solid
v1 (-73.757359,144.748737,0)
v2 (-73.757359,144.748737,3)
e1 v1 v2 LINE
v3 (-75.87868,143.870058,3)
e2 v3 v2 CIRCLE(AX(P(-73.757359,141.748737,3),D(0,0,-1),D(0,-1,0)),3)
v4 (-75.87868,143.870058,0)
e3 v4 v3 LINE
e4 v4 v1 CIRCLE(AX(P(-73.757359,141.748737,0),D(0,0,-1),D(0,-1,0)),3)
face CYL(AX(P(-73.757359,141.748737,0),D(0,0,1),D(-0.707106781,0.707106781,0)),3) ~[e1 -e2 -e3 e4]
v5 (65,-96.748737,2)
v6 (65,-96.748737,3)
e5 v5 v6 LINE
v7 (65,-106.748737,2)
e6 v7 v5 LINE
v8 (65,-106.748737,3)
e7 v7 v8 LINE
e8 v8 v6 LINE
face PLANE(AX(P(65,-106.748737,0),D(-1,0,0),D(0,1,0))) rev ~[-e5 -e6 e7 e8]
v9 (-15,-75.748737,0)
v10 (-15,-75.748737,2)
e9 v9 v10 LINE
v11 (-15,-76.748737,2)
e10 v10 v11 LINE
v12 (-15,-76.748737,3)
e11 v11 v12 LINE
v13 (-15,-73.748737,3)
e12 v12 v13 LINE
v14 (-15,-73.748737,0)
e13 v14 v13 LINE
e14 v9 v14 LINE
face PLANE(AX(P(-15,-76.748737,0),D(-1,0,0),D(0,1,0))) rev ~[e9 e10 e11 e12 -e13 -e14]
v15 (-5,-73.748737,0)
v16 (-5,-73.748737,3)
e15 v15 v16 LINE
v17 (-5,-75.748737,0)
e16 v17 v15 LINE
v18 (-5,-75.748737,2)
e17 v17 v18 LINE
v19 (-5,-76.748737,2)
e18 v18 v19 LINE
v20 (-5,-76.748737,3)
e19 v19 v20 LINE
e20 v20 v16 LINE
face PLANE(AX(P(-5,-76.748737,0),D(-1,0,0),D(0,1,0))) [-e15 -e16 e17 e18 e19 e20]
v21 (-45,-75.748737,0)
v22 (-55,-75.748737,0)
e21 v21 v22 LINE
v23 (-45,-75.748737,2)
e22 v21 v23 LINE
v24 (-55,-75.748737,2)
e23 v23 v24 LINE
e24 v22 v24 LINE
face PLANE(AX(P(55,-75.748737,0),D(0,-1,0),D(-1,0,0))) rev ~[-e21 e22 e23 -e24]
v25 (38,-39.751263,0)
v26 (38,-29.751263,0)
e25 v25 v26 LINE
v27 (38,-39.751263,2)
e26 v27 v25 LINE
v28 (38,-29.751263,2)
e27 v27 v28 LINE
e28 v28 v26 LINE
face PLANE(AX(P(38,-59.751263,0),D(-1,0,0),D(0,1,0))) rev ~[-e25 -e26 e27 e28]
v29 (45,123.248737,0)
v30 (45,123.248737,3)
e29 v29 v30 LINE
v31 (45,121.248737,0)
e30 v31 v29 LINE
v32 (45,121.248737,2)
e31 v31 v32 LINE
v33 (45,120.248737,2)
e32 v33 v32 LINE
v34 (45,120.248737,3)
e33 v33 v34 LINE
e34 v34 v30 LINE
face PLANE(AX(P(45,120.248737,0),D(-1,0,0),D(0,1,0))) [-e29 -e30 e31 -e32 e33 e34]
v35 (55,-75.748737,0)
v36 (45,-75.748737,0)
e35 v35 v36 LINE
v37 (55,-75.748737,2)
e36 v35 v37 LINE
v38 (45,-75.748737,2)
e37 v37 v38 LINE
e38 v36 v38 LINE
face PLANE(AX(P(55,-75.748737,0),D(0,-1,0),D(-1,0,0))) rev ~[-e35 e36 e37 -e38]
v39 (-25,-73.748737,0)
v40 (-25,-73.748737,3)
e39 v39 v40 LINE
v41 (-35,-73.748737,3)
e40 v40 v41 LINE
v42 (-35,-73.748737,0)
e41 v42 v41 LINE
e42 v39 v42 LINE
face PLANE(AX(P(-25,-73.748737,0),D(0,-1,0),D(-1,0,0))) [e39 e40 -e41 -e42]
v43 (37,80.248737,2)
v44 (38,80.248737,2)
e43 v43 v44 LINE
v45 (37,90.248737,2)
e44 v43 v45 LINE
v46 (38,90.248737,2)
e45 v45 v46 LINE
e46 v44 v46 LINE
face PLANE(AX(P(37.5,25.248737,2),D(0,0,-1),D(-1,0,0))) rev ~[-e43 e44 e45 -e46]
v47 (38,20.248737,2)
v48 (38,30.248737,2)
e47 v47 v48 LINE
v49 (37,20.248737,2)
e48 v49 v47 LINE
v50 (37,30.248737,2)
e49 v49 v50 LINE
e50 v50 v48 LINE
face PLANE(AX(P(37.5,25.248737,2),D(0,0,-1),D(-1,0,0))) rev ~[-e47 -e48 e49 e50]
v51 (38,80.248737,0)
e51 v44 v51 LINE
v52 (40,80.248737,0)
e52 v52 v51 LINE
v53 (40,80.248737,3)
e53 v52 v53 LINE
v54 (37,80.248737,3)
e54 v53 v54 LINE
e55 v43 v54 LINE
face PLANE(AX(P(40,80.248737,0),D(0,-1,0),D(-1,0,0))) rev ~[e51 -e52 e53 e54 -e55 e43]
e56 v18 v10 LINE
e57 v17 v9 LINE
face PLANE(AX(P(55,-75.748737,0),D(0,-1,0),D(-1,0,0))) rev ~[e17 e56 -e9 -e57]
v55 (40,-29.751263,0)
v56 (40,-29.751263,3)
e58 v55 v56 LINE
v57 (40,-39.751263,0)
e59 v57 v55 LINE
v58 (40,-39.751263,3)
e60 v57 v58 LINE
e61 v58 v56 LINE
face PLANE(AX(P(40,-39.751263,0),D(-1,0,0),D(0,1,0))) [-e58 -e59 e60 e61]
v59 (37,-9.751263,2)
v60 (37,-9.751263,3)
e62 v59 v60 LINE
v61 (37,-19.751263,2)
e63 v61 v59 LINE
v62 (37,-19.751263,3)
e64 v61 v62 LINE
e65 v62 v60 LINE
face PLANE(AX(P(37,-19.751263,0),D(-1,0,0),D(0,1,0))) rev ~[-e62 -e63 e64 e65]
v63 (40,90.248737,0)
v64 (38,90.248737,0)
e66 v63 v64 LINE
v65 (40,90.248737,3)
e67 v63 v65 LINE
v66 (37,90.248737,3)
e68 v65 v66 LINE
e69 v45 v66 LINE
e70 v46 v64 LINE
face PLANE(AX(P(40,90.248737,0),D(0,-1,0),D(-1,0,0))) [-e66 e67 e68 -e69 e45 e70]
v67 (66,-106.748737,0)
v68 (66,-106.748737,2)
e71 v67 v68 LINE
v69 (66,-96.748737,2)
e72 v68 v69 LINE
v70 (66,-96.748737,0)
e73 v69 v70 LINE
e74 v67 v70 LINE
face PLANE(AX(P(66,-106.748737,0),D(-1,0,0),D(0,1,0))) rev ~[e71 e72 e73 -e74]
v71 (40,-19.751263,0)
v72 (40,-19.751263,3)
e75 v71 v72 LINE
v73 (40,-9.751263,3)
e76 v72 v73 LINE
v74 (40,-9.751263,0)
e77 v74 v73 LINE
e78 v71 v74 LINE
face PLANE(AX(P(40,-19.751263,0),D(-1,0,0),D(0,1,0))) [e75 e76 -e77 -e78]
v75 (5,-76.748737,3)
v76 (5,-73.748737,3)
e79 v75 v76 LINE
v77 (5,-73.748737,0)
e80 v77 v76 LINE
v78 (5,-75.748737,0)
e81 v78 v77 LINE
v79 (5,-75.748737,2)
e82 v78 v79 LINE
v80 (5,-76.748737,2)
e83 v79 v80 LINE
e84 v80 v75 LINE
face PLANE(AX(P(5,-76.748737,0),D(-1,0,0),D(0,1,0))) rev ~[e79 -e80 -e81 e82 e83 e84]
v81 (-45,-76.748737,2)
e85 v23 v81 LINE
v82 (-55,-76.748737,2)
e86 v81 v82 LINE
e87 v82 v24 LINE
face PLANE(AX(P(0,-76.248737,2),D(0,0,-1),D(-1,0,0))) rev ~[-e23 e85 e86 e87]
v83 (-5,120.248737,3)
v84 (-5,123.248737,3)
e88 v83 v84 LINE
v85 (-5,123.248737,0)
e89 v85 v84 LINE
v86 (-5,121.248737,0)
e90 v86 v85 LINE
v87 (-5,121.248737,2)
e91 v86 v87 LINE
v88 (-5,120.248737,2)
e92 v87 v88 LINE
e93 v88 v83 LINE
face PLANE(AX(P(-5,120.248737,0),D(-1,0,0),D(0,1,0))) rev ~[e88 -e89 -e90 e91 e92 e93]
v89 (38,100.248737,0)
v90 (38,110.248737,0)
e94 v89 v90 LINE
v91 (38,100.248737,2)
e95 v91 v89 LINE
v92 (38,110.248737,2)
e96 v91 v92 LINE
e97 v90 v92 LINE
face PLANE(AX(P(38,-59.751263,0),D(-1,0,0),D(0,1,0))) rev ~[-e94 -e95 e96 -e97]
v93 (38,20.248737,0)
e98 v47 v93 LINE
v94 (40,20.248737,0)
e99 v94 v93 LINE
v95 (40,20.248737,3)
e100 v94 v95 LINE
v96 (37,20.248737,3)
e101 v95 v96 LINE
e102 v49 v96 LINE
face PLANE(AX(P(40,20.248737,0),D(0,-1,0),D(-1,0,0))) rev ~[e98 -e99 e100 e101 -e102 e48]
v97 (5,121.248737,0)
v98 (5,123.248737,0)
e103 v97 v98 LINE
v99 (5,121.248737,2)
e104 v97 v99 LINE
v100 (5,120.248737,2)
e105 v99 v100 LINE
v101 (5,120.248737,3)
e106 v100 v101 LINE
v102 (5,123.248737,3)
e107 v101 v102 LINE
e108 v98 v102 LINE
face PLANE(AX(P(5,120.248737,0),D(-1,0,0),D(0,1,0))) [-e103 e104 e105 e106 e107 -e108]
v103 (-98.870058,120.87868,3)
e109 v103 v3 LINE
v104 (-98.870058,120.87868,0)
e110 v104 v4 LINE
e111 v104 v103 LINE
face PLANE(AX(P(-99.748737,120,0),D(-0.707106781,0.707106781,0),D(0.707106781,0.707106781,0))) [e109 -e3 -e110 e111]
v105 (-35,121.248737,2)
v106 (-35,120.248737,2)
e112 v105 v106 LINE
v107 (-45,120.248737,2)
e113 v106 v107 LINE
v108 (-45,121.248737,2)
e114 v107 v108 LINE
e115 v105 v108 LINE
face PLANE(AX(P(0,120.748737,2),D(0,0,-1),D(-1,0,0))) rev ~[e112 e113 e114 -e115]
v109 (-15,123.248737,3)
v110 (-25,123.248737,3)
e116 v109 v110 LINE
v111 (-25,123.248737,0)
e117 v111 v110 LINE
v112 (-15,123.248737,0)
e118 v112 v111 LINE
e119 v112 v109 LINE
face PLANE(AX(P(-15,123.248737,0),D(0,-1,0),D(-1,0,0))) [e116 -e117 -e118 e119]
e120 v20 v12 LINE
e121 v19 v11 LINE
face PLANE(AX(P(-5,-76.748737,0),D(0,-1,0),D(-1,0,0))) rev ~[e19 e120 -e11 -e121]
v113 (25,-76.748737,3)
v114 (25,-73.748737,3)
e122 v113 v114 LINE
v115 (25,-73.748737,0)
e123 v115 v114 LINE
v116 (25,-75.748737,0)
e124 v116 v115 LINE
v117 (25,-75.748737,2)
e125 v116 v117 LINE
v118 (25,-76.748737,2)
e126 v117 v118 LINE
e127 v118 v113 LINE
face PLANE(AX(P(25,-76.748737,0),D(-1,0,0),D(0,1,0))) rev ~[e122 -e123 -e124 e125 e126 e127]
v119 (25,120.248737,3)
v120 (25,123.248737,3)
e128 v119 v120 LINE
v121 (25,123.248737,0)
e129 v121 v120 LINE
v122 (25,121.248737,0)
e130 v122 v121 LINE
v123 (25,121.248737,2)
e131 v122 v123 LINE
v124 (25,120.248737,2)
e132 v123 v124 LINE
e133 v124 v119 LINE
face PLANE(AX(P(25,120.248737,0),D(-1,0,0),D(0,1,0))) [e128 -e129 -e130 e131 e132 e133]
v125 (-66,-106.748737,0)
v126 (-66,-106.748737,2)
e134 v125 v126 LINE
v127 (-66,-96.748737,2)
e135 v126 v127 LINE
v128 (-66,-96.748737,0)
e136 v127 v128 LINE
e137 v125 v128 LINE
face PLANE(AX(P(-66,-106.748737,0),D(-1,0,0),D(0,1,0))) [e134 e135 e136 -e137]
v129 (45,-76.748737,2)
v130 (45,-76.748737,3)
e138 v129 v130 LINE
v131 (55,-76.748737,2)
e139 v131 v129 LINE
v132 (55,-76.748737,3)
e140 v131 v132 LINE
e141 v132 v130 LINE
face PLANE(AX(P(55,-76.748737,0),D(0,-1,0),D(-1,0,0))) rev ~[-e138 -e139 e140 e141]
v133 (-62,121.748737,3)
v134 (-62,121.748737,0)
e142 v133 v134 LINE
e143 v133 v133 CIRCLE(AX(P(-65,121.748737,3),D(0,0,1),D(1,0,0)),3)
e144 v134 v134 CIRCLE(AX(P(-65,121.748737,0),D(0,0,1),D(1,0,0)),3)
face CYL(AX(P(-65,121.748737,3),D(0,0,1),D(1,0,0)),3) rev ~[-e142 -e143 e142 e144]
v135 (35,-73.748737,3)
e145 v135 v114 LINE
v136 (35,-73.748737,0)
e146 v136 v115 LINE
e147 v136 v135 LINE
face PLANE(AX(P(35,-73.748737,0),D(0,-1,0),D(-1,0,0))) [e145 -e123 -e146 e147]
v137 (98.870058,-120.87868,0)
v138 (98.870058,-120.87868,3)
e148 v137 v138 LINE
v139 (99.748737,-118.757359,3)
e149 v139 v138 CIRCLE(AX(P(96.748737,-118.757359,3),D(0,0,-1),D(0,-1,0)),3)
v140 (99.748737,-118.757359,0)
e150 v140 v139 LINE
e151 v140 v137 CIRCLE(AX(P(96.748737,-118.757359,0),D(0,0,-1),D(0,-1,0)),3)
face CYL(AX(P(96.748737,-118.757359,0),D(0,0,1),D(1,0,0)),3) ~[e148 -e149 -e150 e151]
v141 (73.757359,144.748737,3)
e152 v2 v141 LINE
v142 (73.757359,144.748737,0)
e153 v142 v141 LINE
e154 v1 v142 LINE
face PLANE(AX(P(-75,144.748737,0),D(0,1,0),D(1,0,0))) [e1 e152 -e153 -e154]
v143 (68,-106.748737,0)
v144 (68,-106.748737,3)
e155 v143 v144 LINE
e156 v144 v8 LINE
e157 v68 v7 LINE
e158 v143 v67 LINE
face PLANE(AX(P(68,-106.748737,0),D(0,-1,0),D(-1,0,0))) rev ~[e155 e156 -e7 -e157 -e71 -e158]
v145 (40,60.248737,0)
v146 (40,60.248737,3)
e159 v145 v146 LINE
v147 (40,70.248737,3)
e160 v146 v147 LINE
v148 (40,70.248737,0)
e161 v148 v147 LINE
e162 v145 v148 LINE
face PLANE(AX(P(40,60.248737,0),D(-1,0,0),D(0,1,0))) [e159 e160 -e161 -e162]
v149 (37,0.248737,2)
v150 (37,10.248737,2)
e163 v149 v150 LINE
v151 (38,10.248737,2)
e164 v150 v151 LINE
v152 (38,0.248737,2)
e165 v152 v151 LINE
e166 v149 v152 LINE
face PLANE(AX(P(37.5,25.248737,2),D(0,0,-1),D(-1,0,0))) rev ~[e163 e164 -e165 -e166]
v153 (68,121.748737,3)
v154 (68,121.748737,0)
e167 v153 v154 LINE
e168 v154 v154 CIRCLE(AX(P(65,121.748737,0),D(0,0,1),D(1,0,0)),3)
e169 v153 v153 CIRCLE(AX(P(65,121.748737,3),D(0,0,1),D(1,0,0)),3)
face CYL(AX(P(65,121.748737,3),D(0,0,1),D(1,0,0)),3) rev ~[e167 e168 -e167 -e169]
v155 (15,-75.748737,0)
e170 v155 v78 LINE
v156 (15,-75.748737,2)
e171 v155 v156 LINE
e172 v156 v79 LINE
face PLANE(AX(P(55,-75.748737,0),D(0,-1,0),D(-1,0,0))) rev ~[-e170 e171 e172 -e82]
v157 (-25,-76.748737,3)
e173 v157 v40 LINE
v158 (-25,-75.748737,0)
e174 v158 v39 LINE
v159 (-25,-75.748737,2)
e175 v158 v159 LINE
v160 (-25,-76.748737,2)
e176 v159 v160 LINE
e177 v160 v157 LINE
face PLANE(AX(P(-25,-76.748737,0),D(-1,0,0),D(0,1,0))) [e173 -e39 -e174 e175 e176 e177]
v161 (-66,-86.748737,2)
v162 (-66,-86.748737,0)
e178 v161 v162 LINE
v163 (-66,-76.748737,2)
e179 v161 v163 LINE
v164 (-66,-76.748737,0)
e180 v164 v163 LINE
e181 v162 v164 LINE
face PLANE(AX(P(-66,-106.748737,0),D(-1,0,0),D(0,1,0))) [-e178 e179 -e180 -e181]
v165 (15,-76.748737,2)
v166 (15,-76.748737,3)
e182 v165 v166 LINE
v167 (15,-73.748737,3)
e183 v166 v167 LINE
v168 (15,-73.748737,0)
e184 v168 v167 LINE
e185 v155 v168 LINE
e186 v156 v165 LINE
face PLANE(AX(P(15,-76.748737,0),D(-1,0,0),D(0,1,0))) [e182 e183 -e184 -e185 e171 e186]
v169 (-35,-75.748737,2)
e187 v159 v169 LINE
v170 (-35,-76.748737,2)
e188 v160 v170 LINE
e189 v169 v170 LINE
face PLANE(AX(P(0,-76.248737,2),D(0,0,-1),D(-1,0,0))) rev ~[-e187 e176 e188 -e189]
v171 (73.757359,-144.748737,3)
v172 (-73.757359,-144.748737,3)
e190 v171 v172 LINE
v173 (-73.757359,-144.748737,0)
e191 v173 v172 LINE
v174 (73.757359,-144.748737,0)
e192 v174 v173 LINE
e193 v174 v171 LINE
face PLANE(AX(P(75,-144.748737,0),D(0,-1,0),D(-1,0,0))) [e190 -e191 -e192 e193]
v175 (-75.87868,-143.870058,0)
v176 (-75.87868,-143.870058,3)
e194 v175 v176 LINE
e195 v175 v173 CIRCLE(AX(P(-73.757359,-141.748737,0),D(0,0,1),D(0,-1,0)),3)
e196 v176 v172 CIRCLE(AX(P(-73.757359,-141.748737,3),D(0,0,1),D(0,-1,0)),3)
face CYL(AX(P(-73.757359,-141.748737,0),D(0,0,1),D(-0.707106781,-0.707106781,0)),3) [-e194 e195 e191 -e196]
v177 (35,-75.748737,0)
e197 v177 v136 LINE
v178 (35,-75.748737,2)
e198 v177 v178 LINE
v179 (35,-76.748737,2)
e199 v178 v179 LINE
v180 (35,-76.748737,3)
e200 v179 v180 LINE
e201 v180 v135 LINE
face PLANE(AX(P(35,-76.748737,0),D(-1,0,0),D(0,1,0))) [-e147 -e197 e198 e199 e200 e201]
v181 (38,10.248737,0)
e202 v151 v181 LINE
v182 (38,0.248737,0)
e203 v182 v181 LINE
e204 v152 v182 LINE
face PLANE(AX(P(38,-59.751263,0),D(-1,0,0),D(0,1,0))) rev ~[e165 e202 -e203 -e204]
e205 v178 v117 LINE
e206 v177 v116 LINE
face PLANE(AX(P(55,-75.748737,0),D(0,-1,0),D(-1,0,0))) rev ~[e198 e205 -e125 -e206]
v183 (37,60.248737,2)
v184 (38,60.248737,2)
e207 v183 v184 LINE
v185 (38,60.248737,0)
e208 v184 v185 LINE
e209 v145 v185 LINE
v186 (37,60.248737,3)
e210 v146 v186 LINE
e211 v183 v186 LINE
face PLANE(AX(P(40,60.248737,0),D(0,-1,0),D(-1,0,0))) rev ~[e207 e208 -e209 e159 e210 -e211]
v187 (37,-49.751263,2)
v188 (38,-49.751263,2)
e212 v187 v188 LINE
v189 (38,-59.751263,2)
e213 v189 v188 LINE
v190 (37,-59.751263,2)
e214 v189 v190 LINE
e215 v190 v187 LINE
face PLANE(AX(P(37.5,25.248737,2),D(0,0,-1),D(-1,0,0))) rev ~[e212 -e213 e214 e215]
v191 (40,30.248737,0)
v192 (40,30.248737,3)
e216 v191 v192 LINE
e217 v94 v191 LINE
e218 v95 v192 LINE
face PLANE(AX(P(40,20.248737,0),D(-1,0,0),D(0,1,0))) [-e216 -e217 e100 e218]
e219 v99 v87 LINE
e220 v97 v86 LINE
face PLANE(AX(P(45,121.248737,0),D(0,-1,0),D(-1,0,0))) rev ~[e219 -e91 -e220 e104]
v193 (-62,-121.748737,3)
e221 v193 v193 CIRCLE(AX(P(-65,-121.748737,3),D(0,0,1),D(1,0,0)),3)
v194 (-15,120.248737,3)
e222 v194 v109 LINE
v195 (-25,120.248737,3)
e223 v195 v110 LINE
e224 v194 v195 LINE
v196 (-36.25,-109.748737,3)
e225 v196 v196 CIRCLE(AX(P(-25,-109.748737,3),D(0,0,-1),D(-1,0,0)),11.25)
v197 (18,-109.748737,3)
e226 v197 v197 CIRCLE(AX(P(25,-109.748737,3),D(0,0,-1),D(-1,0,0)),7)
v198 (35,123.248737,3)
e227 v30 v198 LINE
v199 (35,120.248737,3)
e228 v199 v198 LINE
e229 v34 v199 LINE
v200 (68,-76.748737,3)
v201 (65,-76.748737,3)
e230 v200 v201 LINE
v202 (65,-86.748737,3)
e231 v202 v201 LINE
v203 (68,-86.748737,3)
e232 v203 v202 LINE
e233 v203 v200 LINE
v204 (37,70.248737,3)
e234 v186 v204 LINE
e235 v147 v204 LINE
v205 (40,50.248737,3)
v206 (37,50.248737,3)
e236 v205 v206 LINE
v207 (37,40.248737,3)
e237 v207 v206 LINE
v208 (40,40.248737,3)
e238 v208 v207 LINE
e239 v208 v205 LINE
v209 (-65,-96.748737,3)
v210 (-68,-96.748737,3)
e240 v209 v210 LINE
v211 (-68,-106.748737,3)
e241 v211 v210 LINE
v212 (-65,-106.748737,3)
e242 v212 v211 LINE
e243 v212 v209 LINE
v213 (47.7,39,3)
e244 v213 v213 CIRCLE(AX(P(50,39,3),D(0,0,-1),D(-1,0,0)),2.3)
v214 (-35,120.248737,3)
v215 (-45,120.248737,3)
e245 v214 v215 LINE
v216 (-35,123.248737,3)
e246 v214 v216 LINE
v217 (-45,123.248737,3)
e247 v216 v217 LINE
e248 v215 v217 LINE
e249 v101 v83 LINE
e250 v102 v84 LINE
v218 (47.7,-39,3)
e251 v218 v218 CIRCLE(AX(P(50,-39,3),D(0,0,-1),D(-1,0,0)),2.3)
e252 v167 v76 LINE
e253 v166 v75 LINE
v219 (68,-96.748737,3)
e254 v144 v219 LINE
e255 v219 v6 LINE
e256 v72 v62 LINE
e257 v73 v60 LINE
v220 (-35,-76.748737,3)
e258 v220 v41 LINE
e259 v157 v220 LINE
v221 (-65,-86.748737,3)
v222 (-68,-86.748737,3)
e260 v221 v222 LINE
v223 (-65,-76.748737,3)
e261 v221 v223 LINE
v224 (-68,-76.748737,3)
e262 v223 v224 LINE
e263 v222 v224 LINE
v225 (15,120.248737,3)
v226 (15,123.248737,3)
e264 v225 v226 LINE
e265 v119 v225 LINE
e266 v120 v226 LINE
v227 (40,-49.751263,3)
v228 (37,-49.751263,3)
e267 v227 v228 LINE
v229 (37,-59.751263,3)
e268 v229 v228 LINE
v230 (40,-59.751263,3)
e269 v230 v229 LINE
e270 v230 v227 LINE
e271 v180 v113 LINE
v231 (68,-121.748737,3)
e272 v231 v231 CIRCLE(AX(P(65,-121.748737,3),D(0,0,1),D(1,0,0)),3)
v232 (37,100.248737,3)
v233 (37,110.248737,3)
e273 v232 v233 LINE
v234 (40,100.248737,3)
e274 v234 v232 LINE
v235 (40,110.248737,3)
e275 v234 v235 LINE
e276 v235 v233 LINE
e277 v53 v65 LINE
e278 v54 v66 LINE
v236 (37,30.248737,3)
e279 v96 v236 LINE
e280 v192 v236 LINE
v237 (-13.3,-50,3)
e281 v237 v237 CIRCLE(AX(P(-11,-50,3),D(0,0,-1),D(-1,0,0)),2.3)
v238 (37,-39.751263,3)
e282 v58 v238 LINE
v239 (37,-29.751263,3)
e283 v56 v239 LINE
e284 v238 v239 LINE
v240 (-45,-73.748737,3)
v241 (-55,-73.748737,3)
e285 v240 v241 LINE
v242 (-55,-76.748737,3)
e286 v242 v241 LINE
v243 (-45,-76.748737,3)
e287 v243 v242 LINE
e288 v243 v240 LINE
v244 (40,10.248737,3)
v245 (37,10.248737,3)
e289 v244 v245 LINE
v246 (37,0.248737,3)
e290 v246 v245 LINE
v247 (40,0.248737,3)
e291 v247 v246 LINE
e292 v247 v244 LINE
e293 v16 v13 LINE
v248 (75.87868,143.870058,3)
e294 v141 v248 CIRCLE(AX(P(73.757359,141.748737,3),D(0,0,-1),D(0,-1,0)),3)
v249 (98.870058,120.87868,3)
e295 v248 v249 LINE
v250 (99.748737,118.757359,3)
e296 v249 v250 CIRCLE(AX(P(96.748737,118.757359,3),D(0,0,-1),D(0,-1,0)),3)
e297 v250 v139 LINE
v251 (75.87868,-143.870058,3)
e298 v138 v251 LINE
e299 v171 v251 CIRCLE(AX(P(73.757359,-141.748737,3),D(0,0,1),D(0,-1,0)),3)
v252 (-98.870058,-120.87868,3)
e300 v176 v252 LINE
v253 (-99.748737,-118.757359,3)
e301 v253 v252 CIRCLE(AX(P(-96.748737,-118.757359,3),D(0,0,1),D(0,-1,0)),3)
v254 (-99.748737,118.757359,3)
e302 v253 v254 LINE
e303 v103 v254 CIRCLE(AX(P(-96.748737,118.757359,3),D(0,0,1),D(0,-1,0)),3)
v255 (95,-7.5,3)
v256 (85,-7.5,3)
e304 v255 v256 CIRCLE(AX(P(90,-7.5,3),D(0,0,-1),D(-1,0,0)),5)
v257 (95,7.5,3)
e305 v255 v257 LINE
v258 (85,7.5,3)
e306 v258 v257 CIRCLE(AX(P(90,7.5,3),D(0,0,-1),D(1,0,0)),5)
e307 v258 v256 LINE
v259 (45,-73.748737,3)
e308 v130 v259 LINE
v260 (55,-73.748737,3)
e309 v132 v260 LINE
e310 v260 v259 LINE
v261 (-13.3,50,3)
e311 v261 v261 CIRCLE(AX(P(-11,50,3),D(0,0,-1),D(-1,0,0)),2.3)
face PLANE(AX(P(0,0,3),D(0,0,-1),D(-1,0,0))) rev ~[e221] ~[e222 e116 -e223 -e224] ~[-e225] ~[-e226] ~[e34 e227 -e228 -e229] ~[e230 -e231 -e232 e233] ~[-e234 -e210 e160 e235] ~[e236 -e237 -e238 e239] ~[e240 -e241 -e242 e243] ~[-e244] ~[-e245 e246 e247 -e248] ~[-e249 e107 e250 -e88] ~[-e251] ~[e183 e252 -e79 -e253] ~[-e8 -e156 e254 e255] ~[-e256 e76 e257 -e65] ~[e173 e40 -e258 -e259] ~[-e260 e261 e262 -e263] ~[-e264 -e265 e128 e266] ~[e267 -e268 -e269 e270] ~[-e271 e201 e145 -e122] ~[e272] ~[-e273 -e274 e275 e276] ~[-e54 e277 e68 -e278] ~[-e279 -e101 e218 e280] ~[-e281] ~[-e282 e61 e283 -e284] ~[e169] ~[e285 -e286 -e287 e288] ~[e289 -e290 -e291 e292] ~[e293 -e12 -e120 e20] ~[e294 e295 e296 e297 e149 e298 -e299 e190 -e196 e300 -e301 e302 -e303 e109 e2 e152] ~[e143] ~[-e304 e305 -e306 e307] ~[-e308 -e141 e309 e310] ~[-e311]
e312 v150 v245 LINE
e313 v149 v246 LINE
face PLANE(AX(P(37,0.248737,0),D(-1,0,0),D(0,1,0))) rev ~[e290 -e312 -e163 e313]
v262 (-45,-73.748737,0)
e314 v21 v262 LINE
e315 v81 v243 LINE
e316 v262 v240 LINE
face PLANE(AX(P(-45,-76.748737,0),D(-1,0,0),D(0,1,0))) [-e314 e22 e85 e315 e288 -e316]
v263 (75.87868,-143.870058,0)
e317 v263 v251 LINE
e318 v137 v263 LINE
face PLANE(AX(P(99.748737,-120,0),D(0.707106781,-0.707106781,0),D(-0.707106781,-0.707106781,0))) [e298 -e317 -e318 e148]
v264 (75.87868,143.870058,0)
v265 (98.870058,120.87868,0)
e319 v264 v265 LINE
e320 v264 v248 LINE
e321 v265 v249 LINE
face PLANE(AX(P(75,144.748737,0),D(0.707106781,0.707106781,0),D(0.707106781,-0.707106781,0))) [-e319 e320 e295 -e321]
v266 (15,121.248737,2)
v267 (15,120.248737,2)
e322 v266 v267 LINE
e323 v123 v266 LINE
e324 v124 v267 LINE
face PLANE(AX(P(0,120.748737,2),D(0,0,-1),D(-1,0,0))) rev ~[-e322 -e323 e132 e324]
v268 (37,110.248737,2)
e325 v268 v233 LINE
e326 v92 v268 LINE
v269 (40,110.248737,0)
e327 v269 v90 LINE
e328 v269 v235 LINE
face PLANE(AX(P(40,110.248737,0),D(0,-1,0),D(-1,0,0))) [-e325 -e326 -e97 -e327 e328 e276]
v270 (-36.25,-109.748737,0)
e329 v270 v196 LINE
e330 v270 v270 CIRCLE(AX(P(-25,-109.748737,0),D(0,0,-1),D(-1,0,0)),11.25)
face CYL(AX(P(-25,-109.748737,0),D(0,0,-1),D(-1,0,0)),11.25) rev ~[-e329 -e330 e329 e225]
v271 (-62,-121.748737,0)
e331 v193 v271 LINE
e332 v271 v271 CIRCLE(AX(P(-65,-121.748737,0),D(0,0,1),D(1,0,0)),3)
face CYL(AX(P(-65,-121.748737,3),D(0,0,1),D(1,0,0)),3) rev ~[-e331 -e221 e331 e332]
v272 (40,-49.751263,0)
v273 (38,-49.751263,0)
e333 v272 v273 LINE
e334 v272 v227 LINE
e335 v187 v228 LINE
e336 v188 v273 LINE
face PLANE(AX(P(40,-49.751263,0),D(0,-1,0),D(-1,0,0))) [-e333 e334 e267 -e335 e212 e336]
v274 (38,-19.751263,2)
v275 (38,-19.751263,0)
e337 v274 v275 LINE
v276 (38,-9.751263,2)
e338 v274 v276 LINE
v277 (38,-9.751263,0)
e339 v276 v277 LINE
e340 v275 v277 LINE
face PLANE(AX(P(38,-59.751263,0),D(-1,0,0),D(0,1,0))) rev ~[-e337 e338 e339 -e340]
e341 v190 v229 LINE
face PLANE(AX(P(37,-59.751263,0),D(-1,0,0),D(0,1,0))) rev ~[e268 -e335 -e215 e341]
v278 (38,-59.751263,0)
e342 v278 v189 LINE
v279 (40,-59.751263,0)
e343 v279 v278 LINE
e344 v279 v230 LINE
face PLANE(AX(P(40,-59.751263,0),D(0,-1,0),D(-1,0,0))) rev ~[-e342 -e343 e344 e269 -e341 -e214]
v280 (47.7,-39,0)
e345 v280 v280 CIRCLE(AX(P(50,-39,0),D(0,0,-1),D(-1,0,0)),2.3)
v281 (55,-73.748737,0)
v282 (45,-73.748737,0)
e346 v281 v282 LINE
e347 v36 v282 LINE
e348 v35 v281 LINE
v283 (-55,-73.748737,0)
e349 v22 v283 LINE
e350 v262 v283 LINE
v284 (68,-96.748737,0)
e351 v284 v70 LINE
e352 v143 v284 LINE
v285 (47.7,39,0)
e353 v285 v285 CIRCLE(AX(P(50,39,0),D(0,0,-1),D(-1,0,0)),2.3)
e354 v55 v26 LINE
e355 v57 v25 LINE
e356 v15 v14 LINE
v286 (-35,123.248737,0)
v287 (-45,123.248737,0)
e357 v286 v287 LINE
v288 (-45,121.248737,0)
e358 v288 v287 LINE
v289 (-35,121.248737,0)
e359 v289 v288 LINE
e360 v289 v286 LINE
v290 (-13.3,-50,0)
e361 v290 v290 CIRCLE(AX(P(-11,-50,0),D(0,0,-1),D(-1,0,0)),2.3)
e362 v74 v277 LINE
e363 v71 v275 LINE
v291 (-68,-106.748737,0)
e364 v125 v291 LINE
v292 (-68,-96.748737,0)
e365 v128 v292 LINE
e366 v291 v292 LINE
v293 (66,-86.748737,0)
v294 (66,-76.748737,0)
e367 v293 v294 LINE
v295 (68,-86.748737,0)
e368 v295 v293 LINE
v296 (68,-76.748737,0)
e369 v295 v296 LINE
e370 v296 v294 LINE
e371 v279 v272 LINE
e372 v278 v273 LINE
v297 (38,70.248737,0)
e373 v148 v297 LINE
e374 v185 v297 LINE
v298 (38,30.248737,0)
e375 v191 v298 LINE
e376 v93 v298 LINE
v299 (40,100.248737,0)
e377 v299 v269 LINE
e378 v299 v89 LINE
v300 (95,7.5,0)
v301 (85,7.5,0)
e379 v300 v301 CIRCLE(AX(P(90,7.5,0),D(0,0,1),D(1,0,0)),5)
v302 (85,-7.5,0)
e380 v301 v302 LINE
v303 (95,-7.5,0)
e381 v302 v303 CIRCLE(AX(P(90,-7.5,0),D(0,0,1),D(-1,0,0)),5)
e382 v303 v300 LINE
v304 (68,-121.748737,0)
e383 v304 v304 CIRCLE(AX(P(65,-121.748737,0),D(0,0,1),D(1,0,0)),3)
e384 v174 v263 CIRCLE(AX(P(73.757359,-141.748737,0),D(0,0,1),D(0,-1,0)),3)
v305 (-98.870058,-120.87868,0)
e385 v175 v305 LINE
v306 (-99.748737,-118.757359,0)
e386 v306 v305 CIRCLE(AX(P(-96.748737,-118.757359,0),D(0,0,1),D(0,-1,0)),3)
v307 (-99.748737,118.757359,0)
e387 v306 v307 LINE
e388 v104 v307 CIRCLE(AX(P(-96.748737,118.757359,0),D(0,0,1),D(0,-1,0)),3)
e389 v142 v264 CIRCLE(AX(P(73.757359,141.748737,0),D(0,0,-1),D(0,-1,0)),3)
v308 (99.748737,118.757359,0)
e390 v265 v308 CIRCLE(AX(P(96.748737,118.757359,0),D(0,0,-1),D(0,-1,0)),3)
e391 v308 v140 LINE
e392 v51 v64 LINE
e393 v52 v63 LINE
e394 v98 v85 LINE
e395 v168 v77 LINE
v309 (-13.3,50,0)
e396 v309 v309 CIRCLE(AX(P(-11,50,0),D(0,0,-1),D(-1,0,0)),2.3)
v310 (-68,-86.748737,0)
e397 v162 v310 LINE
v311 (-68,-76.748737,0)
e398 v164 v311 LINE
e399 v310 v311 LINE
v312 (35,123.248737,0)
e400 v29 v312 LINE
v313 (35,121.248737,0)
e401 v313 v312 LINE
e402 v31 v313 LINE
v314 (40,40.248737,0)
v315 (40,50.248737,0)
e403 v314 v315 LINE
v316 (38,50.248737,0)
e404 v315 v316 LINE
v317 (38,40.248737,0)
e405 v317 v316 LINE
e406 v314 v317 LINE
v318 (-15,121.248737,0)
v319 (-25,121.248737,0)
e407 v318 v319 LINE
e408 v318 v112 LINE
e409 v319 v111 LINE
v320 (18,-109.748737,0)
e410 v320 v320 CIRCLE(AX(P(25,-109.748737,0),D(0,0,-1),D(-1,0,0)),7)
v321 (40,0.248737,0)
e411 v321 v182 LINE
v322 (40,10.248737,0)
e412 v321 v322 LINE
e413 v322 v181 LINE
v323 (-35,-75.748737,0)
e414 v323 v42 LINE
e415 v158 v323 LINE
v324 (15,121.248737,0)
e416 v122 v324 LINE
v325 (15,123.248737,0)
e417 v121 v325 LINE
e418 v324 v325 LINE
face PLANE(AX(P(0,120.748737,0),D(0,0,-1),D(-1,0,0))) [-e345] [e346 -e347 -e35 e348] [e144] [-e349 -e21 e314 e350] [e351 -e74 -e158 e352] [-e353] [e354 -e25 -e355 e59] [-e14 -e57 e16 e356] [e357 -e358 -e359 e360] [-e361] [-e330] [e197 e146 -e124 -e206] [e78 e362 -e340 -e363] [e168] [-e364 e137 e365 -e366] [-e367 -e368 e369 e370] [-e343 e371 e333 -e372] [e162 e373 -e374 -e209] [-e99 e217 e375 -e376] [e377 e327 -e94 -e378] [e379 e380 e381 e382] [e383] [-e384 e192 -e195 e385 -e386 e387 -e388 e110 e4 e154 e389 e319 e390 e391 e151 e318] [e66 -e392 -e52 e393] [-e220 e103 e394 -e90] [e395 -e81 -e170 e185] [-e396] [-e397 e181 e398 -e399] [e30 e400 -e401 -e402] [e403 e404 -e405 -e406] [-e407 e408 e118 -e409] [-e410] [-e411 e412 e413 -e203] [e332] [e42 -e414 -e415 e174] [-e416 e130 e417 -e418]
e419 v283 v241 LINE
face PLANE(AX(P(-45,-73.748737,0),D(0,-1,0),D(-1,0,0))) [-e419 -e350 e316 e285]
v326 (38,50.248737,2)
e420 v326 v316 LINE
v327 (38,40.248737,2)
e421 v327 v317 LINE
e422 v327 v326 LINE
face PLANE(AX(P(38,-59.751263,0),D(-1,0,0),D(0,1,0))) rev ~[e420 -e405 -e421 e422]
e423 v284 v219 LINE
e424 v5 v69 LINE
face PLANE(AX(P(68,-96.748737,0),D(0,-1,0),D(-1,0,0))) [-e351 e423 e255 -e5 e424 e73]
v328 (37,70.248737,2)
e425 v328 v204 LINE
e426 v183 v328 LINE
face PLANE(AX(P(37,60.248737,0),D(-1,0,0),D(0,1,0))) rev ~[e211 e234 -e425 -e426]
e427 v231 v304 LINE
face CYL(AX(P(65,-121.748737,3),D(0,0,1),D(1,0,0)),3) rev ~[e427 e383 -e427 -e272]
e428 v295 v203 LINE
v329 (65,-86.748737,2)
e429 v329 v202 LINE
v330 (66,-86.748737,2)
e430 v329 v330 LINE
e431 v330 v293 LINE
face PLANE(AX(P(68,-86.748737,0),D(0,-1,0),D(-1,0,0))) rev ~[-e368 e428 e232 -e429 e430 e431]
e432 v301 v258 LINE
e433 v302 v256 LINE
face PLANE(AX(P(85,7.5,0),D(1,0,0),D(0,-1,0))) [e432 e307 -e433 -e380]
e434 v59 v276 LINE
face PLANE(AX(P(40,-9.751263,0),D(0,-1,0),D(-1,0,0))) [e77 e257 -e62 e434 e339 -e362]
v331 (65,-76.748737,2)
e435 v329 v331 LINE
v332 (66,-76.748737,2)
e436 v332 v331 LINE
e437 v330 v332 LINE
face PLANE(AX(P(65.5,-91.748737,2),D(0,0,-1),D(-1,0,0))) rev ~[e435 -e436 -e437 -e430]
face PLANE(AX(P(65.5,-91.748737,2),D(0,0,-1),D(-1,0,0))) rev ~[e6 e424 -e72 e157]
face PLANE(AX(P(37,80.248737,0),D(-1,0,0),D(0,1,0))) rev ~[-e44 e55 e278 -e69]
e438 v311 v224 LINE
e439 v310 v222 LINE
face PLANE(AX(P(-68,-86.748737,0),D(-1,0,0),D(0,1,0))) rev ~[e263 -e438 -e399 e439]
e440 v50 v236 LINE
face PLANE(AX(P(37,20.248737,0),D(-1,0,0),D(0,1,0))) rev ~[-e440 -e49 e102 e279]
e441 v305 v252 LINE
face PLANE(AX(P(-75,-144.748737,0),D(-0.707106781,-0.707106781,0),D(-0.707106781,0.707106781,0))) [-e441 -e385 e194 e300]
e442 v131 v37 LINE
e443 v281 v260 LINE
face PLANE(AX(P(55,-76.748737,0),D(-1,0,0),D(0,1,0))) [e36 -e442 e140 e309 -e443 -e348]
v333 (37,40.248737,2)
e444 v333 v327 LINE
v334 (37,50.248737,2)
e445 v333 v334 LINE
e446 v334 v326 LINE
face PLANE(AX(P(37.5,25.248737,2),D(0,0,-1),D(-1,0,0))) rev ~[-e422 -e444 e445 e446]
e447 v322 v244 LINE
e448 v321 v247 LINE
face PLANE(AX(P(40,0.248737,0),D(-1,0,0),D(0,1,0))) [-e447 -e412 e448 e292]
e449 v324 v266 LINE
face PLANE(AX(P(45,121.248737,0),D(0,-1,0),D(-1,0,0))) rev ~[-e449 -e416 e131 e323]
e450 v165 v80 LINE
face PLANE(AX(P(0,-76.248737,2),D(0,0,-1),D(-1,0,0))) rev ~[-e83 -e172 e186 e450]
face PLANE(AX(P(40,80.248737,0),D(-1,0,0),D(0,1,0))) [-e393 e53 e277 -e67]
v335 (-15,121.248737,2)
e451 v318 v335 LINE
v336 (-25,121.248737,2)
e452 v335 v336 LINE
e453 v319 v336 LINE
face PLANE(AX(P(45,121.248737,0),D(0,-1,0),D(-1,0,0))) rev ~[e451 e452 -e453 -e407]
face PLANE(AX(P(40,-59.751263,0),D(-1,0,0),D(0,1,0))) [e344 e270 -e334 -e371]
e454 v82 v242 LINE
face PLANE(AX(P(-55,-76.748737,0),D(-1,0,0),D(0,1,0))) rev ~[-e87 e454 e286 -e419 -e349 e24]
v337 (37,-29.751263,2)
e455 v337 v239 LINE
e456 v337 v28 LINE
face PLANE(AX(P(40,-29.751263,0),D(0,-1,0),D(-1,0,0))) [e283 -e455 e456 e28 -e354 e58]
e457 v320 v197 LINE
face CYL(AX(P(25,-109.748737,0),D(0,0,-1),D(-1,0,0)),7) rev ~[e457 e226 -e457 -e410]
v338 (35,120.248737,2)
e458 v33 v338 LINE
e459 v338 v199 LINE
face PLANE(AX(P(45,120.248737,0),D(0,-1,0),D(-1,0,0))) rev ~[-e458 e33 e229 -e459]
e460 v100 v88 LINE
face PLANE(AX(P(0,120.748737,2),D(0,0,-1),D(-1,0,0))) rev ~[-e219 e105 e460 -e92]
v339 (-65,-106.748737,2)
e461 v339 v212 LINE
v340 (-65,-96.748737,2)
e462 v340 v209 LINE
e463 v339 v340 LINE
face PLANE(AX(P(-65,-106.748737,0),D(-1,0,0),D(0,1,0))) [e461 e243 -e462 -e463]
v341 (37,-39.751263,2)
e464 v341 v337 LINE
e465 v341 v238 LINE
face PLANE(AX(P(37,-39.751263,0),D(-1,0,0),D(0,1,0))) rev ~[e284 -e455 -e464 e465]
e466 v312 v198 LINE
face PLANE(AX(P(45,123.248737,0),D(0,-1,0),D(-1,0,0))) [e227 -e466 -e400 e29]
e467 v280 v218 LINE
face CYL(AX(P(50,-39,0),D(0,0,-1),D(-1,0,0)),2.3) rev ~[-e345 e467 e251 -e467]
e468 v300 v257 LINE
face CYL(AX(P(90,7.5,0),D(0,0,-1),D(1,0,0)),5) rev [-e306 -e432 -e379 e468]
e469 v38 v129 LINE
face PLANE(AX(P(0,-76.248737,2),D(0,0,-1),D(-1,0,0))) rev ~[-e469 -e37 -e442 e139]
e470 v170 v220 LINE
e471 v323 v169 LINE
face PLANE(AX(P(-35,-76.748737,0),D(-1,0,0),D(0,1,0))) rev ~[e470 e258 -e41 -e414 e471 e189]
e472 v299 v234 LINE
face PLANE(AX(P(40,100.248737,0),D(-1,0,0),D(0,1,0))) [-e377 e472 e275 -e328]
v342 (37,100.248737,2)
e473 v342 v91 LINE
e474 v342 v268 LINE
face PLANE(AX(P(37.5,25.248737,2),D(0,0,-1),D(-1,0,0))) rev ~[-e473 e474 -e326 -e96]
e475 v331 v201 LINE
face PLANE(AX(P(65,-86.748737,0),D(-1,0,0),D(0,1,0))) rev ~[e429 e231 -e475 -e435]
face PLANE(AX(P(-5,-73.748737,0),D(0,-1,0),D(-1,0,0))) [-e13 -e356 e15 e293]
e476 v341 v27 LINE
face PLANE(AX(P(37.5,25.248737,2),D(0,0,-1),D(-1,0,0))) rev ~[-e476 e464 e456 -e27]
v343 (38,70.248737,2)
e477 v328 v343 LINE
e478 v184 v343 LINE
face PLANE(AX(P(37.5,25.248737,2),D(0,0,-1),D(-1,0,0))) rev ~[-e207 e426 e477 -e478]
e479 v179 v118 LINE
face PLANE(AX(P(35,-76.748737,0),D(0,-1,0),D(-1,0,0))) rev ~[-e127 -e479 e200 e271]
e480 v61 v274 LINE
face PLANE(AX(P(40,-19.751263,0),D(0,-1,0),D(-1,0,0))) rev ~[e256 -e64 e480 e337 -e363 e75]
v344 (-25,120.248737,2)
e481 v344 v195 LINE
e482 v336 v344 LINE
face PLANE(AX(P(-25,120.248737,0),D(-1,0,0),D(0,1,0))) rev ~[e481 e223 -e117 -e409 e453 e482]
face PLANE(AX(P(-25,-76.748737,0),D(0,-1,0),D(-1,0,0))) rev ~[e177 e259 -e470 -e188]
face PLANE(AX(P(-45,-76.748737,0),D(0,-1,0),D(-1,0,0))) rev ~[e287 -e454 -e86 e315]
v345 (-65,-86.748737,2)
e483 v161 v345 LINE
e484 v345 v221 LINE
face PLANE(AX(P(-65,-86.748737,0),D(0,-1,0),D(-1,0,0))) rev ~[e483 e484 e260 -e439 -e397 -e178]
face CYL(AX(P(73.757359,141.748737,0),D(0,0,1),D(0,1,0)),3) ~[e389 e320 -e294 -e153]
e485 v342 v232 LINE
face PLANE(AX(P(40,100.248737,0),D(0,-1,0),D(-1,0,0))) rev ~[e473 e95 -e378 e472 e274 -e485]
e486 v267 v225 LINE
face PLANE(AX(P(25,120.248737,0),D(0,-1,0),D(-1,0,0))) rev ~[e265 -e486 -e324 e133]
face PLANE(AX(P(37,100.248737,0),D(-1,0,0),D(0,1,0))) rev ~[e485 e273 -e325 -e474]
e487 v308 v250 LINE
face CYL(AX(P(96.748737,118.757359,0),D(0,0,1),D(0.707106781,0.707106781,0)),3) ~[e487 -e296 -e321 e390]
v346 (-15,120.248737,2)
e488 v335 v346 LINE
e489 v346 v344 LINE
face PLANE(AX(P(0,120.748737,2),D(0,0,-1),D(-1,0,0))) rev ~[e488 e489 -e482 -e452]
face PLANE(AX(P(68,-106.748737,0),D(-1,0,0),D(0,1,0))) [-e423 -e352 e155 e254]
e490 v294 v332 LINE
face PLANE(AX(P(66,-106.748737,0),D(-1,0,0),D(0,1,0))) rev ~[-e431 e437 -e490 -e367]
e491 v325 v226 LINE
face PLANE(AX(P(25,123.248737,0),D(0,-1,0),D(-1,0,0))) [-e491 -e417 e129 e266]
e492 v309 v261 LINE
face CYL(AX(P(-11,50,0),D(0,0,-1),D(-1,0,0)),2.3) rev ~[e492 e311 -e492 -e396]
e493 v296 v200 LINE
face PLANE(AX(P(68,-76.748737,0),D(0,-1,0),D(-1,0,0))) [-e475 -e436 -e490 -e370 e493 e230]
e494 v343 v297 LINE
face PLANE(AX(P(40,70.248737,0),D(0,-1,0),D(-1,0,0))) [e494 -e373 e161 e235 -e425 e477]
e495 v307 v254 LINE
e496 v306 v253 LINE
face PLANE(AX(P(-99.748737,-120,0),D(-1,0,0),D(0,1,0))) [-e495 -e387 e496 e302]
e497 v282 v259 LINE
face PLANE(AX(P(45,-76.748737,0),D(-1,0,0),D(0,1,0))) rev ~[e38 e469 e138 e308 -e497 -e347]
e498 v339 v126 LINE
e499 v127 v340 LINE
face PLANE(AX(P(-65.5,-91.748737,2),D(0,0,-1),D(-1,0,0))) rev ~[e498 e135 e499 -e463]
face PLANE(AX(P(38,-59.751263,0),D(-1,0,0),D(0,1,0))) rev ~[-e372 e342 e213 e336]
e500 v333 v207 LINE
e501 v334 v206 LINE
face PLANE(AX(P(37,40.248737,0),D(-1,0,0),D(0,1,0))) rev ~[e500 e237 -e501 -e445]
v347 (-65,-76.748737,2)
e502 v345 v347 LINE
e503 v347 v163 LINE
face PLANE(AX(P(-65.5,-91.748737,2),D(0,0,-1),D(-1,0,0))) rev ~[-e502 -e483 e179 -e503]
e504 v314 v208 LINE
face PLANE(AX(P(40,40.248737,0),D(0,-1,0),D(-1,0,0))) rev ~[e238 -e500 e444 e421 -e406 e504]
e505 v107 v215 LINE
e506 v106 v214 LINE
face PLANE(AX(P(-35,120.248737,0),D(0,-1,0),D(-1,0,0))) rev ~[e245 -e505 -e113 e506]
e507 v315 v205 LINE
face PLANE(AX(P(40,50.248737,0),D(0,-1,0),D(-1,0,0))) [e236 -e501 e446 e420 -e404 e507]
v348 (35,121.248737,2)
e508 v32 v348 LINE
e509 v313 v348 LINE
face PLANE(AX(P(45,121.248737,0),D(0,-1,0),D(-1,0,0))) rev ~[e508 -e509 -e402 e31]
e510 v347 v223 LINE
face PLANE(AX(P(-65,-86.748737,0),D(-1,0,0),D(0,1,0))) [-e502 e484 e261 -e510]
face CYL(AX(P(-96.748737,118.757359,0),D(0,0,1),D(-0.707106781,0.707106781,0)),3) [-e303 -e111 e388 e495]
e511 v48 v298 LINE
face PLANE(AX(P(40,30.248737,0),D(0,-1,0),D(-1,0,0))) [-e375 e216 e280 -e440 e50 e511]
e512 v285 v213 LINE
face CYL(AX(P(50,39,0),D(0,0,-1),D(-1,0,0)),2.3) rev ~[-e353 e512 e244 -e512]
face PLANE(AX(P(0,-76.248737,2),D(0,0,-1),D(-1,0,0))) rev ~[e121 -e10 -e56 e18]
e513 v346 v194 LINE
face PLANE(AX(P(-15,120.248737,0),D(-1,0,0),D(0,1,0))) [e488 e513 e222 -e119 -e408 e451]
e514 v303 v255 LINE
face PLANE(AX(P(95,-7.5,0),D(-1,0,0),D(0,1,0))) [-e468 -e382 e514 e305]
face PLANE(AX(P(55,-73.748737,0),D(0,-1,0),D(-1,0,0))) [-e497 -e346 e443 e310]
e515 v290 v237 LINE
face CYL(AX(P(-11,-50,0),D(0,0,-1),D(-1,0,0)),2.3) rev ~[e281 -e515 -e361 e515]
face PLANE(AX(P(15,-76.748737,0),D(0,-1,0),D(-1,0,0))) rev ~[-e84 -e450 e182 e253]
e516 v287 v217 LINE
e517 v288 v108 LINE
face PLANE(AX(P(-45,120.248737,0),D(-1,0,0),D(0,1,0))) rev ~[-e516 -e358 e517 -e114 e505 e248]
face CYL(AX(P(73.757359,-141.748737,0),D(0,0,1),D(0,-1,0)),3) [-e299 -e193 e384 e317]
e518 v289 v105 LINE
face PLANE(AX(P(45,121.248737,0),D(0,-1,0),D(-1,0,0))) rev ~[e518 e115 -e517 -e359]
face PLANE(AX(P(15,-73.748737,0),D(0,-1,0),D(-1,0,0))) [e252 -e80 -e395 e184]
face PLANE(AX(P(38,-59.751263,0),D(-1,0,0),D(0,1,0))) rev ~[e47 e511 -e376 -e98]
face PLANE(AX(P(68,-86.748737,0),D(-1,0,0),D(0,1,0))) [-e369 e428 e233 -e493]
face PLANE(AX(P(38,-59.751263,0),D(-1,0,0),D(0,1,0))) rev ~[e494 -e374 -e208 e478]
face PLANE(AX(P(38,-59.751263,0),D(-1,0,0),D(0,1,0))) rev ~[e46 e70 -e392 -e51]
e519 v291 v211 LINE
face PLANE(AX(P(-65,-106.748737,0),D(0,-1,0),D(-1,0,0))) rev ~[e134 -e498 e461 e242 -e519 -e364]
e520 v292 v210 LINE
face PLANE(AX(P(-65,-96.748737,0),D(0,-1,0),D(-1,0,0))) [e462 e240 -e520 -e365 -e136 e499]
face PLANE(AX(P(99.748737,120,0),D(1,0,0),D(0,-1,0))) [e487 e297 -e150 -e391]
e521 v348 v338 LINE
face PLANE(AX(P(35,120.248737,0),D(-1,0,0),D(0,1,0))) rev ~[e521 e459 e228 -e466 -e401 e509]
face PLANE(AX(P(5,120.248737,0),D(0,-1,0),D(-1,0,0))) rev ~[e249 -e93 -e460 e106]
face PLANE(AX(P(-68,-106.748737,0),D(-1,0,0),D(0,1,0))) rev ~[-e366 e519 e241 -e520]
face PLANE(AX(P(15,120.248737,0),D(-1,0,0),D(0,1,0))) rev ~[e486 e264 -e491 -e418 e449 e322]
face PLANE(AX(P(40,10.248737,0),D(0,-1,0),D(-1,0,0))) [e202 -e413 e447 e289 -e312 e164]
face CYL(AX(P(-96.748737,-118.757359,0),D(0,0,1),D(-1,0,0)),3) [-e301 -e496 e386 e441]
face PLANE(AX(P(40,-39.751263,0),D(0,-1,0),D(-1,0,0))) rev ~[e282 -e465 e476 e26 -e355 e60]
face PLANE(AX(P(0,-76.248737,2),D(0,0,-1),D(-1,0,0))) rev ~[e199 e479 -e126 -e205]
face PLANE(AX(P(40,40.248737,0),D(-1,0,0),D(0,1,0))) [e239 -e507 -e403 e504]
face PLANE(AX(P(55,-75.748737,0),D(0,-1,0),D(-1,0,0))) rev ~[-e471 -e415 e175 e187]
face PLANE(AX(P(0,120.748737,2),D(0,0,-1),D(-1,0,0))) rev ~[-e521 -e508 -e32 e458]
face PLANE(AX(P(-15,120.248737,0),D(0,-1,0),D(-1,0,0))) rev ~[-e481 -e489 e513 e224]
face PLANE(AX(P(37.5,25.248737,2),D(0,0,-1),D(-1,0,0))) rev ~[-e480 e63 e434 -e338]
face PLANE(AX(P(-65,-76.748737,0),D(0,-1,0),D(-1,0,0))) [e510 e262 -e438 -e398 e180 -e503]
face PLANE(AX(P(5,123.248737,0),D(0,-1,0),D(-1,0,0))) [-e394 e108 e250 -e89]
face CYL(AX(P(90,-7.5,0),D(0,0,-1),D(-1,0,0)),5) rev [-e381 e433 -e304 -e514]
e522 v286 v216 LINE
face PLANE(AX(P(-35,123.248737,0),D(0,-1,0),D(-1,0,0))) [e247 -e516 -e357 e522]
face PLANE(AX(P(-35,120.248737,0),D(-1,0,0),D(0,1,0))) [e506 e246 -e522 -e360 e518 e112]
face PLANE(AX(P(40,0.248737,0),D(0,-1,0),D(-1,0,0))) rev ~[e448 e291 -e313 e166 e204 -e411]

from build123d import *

# Parameters (mm, degrees)
BASE_DEPTH                             = 3
ESQUISSE2_R                            = 3
PER_AGE_PROFIL_DEPTH                   = 5
ESQUISSE3_R                            = 2.3
PER_AGE_LIDAR_DEPTH                    = 4
ESQUISSE4_R                            = 11.25
PER_AGE_BOUTON_D_ARRET_D_URGENCE_DEPTH = 4
ESQUISSE5_R                            = 7
PER_AGE_TIRETTE_DEPTH                  = 4
PER_AGE_CABLE_MANAGEMENT_DEPTH         = 4
SKETCH1_W                              = 10
SKETCH1_H                              = 3
SKETCH1_W_2                            = 3
SKETCH1_H_2                            = 10
CUT_EXTRUDE1_DEPTH                     = 4
CONG_1_R                               = 3
ESQUISSE10_W                           = 90
ESQUISSE10_H                           = 1
ESQUISSE10_W_2                         = 1
ESQUISSE10_H_2                         = 170
ESQUISSE10_W_3                         = 110
ESQUISSE10_H_3                         = 30
BOSS_EXTRU_1_DEPTH                     = 2


with BuildPart() as part:
    # Esquisse1 → Base (new body)
    with BuildSketch(Plane.XY):
        Polygon((-99.748737342, 120), (-75, 144.748737342), (75, 144.748737342), (99.748737342, 120), (99.748737342, -120), (75, -144.748737342), (-75, -144.748737342), (-99.748737342, -120), align=None)
    extrude(amount=BASE_DEPTH)

    # Esquisse2 → Perçage profilé (cut)
    with BuildSketch(Plane.XY.offset(3)):
        with Locations((-65, 121.748737342)):
            Circle(ESQUISSE2_R)
        with Locations((65, 121.748737342)):
            Circle(ESQUISSE2_R)
        with Locations((65, -121.748737342)):
            Circle(ESQUISSE2_R)
        with Locations((-65, -121.748737342)):
            Circle(ESQUISSE2_R)
    extrude(amount=-PER_AGE_PROFIL_DEPTH, mode=Mode.SUBTRACT)

    # Esquisse3 → Perçage Lidar (cut, through all)
    with BuildSketch(Plane(origin=(0, 0, 0), x_dir=(-1, 0, 0), z_dir=(0, 0, -1))):
        with Locations((-50, 39)):
            Circle(ESQUISSE3_R)
        with Locations((11, 50)):
            Circle(ESQUISSE3_R)
        with Locations((-50, -39)):
            Circle(ESQUISSE3_R)
        with Locations((11, -50)):
            Circle(ESQUISSE3_R)
    extrude(amount=-PER_AGE_LIDAR_DEPTH, mode=Mode.SUBTRACT)

    # Esquisse4 → Perçage bouton d'arret d'urgence (cut, through all)
    with BuildSketch(Plane(origin=(0, 0, 0), x_dir=(-1, 0, 0), z_dir=(0, 0, -1))):
        with Locations((25, -109.748737342)):
            Circle(ESQUISSE4_R)
    extrude(amount=-PER_AGE_BOUTON_D_ARRET_D_URGENCE_DEPTH, mode=Mode.SUBTRACT)

    # Esquisse5 → Perçage tirette (cut, through all)
    with BuildSketch(Plane(origin=(0, 0, 0), x_dir=(-1, 0, 0), z_dir=(0, 0, -1))):
        with Locations((-25, -109.748737342)):
            Circle(ESQUISSE5_R)
    extrude(amount=-PER_AGE_TIRETTE_DEPTH, mode=Mode.SUBTRACT)

    # Esquisse7 → Perçage cable management (cut, through all)
    with BuildSketch(Plane(origin=(0, 0, 0), x_dir=(-1, 0, 0), z_dir=(0, 0, -1))):
        with BuildLine():
            Line((-85, 7.5), (-85, -7.5))
            ThreePointArc((-85, -7.5), (-90, -12.5), (-95, -7.5))
            Line((-95, -7.5), (-95, 7.5))
            ThreePointArc((-95, 7.5), (-90, 12.5), (-85, 7.5))
        make_face()
    extrude(amount=-PER_AGE_CABLE_MANAGEMENT_DEPTH, mode=Mode.SUBTRACT)

    # Sketch1 → Cut-Extrude1 (cut, through all)
    with BuildSketch(Plane(origin=(0, 0, 0), x_dir=(-1, 0, 0), z_dir=(0, 0, -1))):
        with Locations((-40, 121.748737342)):
            Rectangle(SKETCH1_W, SKETCH1_H)
        with Locations((-20, 121.748737342)):
            Rectangle(SKETCH1_W, SKETCH1_H)
        with Locations((0, 121.748737342)):
            Rectangle(SKETCH1_W, SKETCH1_H)
        with Locations((20, 121.748737342)):
            Rectangle(SKETCH1_W, SKETCH1_H)
        with Locations((40, 121.748737342)):
            Rectangle(SKETCH1_W, SKETCH1_H)
        with Locations((-66.5, -101.748737342)):
            Rectangle(SKETCH1_W_2, SKETCH1_H_2)
        with Locations((-38.5, 85.248737342)):
            Rectangle(SKETCH1_W_2, SKETCH1_H_2)
        with Locations((-38.5, 105.248737342)):
            Rectangle(SKETCH1_W_2, SKETCH1_H_2)
        with Locations((-66.5, -81.748737342)):
            Rectangle(SKETCH1_W_2, SKETCH1_H_2)
        with Locations((66.5, -81.748737342)):
            Rectangle(SKETCH1_W_2, SKETCH1_H_2)
        with Locations((66.5, -101.748737342)):
            Rectangle(SKETCH1_W_2, SKETCH1_H_2)
        with Locations((-30, -75.248737342)):
            Rectangle(SKETCH1_W, SKETCH1_H)
        with Locations((-50, -75.248737342)):
            Rectangle(SKETCH1_W, SKETCH1_H)
        with Locations((-10, -75.248737342)):
            Rectangle(SKETCH1_W, SKETCH1_H)
        with Locations((10, -75.248737342)):
            Rectangle(SKETCH1_W, SKETCH1_H)
        with Locations((30, -75.248737342)):
            Rectangle(SKETCH1_W, SKETCH1_H)
        with Locations((50, -75.248737342)):
            Rectangle(SKETCH1_W, SKETCH1_H)
        with Locations((-38.5, 65.248737342)):
            Rectangle(SKETCH1_W_2, SKETCH1_H_2)
        with Locations((-38.5, 45.248737342)):
            Rectangle(SKETCH1_W_2, SKETCH1_H_2)
        with Locations((-38.5, 25.248737342)):
            Rectangle(SKETCH1_W_2, SKETCH1_H_2)
        with Locations((-38.5, 5.248737342)):
            Rectangle(SKETCH1_W_2, SKETCH1_H_2)
        with Locations((-38.5, -14.751262658)):
            Rectangle(SKETCH1_W_2, SKETCH1_H_2)
        with Locations((-38.5, -34.751262658)):
            Rectangle(SKETCH1_W_2, SKETCH1_H_2)
        with Locations((-38.5, -54.751262658)):
            Rectangle(SKETCH1_W_2, SKETCH1_H_2)
    extrude(amount=-CUT_EXTRUDE1_DEPTH, mode=Mode.SUBTRACT)

    # Congé1
    cong_1_edges = [part.edges().sort_by_distance(p)[0] for p in [
        (-99.748737342, 120, 1.5),
        (-75, 144.748737342, 1.5),
        (75, 144.748737342, 1.5),
        (99.748737342, 120, 1.5),
        (99.748737342, -120, 1.5),
        (75, -144.748737342, 1.5),
        (-75, -144.748737342, 1.5),
        (-99.748737342, -120, 1.5),
    ]]
    fillet(cong_1_edges, radius=CONG_1_R)

    # Esquisse10 → Boss.-Extru.1 (add)
    with BuildSketch(Plane(origin=(0, 0, 0), x_dir=(-1, 0, 0), z_dir=(0, 0, -1))):
        with Locations((0, 120.748737342)):
            Rectangle(ESQUISSE10_W, ESQUISSE10_H)
        with Locations((-37.5, 25.248737342)):
            Rectangle(ESQUISSE10_W_2, ESQUISSE10_H_2)
        with Locations((0, -76.248737342)):
            Rectangle(ESQUISSE10_W_3, ESQUISSE10_H)
        with Locations((65.5, -91.748737342)):
            Rectangle(ESQUISSE10_W_2, ESQUISSE10_H_3)
        with Locations((-65.5, -91.748737342)):
            Rectangle(ESQUISSE10_W_2, ESQUISSE10_H_3)
    extrude(amount=-BOSS_EXTRU_1_DEPTH)


solid = part.part
